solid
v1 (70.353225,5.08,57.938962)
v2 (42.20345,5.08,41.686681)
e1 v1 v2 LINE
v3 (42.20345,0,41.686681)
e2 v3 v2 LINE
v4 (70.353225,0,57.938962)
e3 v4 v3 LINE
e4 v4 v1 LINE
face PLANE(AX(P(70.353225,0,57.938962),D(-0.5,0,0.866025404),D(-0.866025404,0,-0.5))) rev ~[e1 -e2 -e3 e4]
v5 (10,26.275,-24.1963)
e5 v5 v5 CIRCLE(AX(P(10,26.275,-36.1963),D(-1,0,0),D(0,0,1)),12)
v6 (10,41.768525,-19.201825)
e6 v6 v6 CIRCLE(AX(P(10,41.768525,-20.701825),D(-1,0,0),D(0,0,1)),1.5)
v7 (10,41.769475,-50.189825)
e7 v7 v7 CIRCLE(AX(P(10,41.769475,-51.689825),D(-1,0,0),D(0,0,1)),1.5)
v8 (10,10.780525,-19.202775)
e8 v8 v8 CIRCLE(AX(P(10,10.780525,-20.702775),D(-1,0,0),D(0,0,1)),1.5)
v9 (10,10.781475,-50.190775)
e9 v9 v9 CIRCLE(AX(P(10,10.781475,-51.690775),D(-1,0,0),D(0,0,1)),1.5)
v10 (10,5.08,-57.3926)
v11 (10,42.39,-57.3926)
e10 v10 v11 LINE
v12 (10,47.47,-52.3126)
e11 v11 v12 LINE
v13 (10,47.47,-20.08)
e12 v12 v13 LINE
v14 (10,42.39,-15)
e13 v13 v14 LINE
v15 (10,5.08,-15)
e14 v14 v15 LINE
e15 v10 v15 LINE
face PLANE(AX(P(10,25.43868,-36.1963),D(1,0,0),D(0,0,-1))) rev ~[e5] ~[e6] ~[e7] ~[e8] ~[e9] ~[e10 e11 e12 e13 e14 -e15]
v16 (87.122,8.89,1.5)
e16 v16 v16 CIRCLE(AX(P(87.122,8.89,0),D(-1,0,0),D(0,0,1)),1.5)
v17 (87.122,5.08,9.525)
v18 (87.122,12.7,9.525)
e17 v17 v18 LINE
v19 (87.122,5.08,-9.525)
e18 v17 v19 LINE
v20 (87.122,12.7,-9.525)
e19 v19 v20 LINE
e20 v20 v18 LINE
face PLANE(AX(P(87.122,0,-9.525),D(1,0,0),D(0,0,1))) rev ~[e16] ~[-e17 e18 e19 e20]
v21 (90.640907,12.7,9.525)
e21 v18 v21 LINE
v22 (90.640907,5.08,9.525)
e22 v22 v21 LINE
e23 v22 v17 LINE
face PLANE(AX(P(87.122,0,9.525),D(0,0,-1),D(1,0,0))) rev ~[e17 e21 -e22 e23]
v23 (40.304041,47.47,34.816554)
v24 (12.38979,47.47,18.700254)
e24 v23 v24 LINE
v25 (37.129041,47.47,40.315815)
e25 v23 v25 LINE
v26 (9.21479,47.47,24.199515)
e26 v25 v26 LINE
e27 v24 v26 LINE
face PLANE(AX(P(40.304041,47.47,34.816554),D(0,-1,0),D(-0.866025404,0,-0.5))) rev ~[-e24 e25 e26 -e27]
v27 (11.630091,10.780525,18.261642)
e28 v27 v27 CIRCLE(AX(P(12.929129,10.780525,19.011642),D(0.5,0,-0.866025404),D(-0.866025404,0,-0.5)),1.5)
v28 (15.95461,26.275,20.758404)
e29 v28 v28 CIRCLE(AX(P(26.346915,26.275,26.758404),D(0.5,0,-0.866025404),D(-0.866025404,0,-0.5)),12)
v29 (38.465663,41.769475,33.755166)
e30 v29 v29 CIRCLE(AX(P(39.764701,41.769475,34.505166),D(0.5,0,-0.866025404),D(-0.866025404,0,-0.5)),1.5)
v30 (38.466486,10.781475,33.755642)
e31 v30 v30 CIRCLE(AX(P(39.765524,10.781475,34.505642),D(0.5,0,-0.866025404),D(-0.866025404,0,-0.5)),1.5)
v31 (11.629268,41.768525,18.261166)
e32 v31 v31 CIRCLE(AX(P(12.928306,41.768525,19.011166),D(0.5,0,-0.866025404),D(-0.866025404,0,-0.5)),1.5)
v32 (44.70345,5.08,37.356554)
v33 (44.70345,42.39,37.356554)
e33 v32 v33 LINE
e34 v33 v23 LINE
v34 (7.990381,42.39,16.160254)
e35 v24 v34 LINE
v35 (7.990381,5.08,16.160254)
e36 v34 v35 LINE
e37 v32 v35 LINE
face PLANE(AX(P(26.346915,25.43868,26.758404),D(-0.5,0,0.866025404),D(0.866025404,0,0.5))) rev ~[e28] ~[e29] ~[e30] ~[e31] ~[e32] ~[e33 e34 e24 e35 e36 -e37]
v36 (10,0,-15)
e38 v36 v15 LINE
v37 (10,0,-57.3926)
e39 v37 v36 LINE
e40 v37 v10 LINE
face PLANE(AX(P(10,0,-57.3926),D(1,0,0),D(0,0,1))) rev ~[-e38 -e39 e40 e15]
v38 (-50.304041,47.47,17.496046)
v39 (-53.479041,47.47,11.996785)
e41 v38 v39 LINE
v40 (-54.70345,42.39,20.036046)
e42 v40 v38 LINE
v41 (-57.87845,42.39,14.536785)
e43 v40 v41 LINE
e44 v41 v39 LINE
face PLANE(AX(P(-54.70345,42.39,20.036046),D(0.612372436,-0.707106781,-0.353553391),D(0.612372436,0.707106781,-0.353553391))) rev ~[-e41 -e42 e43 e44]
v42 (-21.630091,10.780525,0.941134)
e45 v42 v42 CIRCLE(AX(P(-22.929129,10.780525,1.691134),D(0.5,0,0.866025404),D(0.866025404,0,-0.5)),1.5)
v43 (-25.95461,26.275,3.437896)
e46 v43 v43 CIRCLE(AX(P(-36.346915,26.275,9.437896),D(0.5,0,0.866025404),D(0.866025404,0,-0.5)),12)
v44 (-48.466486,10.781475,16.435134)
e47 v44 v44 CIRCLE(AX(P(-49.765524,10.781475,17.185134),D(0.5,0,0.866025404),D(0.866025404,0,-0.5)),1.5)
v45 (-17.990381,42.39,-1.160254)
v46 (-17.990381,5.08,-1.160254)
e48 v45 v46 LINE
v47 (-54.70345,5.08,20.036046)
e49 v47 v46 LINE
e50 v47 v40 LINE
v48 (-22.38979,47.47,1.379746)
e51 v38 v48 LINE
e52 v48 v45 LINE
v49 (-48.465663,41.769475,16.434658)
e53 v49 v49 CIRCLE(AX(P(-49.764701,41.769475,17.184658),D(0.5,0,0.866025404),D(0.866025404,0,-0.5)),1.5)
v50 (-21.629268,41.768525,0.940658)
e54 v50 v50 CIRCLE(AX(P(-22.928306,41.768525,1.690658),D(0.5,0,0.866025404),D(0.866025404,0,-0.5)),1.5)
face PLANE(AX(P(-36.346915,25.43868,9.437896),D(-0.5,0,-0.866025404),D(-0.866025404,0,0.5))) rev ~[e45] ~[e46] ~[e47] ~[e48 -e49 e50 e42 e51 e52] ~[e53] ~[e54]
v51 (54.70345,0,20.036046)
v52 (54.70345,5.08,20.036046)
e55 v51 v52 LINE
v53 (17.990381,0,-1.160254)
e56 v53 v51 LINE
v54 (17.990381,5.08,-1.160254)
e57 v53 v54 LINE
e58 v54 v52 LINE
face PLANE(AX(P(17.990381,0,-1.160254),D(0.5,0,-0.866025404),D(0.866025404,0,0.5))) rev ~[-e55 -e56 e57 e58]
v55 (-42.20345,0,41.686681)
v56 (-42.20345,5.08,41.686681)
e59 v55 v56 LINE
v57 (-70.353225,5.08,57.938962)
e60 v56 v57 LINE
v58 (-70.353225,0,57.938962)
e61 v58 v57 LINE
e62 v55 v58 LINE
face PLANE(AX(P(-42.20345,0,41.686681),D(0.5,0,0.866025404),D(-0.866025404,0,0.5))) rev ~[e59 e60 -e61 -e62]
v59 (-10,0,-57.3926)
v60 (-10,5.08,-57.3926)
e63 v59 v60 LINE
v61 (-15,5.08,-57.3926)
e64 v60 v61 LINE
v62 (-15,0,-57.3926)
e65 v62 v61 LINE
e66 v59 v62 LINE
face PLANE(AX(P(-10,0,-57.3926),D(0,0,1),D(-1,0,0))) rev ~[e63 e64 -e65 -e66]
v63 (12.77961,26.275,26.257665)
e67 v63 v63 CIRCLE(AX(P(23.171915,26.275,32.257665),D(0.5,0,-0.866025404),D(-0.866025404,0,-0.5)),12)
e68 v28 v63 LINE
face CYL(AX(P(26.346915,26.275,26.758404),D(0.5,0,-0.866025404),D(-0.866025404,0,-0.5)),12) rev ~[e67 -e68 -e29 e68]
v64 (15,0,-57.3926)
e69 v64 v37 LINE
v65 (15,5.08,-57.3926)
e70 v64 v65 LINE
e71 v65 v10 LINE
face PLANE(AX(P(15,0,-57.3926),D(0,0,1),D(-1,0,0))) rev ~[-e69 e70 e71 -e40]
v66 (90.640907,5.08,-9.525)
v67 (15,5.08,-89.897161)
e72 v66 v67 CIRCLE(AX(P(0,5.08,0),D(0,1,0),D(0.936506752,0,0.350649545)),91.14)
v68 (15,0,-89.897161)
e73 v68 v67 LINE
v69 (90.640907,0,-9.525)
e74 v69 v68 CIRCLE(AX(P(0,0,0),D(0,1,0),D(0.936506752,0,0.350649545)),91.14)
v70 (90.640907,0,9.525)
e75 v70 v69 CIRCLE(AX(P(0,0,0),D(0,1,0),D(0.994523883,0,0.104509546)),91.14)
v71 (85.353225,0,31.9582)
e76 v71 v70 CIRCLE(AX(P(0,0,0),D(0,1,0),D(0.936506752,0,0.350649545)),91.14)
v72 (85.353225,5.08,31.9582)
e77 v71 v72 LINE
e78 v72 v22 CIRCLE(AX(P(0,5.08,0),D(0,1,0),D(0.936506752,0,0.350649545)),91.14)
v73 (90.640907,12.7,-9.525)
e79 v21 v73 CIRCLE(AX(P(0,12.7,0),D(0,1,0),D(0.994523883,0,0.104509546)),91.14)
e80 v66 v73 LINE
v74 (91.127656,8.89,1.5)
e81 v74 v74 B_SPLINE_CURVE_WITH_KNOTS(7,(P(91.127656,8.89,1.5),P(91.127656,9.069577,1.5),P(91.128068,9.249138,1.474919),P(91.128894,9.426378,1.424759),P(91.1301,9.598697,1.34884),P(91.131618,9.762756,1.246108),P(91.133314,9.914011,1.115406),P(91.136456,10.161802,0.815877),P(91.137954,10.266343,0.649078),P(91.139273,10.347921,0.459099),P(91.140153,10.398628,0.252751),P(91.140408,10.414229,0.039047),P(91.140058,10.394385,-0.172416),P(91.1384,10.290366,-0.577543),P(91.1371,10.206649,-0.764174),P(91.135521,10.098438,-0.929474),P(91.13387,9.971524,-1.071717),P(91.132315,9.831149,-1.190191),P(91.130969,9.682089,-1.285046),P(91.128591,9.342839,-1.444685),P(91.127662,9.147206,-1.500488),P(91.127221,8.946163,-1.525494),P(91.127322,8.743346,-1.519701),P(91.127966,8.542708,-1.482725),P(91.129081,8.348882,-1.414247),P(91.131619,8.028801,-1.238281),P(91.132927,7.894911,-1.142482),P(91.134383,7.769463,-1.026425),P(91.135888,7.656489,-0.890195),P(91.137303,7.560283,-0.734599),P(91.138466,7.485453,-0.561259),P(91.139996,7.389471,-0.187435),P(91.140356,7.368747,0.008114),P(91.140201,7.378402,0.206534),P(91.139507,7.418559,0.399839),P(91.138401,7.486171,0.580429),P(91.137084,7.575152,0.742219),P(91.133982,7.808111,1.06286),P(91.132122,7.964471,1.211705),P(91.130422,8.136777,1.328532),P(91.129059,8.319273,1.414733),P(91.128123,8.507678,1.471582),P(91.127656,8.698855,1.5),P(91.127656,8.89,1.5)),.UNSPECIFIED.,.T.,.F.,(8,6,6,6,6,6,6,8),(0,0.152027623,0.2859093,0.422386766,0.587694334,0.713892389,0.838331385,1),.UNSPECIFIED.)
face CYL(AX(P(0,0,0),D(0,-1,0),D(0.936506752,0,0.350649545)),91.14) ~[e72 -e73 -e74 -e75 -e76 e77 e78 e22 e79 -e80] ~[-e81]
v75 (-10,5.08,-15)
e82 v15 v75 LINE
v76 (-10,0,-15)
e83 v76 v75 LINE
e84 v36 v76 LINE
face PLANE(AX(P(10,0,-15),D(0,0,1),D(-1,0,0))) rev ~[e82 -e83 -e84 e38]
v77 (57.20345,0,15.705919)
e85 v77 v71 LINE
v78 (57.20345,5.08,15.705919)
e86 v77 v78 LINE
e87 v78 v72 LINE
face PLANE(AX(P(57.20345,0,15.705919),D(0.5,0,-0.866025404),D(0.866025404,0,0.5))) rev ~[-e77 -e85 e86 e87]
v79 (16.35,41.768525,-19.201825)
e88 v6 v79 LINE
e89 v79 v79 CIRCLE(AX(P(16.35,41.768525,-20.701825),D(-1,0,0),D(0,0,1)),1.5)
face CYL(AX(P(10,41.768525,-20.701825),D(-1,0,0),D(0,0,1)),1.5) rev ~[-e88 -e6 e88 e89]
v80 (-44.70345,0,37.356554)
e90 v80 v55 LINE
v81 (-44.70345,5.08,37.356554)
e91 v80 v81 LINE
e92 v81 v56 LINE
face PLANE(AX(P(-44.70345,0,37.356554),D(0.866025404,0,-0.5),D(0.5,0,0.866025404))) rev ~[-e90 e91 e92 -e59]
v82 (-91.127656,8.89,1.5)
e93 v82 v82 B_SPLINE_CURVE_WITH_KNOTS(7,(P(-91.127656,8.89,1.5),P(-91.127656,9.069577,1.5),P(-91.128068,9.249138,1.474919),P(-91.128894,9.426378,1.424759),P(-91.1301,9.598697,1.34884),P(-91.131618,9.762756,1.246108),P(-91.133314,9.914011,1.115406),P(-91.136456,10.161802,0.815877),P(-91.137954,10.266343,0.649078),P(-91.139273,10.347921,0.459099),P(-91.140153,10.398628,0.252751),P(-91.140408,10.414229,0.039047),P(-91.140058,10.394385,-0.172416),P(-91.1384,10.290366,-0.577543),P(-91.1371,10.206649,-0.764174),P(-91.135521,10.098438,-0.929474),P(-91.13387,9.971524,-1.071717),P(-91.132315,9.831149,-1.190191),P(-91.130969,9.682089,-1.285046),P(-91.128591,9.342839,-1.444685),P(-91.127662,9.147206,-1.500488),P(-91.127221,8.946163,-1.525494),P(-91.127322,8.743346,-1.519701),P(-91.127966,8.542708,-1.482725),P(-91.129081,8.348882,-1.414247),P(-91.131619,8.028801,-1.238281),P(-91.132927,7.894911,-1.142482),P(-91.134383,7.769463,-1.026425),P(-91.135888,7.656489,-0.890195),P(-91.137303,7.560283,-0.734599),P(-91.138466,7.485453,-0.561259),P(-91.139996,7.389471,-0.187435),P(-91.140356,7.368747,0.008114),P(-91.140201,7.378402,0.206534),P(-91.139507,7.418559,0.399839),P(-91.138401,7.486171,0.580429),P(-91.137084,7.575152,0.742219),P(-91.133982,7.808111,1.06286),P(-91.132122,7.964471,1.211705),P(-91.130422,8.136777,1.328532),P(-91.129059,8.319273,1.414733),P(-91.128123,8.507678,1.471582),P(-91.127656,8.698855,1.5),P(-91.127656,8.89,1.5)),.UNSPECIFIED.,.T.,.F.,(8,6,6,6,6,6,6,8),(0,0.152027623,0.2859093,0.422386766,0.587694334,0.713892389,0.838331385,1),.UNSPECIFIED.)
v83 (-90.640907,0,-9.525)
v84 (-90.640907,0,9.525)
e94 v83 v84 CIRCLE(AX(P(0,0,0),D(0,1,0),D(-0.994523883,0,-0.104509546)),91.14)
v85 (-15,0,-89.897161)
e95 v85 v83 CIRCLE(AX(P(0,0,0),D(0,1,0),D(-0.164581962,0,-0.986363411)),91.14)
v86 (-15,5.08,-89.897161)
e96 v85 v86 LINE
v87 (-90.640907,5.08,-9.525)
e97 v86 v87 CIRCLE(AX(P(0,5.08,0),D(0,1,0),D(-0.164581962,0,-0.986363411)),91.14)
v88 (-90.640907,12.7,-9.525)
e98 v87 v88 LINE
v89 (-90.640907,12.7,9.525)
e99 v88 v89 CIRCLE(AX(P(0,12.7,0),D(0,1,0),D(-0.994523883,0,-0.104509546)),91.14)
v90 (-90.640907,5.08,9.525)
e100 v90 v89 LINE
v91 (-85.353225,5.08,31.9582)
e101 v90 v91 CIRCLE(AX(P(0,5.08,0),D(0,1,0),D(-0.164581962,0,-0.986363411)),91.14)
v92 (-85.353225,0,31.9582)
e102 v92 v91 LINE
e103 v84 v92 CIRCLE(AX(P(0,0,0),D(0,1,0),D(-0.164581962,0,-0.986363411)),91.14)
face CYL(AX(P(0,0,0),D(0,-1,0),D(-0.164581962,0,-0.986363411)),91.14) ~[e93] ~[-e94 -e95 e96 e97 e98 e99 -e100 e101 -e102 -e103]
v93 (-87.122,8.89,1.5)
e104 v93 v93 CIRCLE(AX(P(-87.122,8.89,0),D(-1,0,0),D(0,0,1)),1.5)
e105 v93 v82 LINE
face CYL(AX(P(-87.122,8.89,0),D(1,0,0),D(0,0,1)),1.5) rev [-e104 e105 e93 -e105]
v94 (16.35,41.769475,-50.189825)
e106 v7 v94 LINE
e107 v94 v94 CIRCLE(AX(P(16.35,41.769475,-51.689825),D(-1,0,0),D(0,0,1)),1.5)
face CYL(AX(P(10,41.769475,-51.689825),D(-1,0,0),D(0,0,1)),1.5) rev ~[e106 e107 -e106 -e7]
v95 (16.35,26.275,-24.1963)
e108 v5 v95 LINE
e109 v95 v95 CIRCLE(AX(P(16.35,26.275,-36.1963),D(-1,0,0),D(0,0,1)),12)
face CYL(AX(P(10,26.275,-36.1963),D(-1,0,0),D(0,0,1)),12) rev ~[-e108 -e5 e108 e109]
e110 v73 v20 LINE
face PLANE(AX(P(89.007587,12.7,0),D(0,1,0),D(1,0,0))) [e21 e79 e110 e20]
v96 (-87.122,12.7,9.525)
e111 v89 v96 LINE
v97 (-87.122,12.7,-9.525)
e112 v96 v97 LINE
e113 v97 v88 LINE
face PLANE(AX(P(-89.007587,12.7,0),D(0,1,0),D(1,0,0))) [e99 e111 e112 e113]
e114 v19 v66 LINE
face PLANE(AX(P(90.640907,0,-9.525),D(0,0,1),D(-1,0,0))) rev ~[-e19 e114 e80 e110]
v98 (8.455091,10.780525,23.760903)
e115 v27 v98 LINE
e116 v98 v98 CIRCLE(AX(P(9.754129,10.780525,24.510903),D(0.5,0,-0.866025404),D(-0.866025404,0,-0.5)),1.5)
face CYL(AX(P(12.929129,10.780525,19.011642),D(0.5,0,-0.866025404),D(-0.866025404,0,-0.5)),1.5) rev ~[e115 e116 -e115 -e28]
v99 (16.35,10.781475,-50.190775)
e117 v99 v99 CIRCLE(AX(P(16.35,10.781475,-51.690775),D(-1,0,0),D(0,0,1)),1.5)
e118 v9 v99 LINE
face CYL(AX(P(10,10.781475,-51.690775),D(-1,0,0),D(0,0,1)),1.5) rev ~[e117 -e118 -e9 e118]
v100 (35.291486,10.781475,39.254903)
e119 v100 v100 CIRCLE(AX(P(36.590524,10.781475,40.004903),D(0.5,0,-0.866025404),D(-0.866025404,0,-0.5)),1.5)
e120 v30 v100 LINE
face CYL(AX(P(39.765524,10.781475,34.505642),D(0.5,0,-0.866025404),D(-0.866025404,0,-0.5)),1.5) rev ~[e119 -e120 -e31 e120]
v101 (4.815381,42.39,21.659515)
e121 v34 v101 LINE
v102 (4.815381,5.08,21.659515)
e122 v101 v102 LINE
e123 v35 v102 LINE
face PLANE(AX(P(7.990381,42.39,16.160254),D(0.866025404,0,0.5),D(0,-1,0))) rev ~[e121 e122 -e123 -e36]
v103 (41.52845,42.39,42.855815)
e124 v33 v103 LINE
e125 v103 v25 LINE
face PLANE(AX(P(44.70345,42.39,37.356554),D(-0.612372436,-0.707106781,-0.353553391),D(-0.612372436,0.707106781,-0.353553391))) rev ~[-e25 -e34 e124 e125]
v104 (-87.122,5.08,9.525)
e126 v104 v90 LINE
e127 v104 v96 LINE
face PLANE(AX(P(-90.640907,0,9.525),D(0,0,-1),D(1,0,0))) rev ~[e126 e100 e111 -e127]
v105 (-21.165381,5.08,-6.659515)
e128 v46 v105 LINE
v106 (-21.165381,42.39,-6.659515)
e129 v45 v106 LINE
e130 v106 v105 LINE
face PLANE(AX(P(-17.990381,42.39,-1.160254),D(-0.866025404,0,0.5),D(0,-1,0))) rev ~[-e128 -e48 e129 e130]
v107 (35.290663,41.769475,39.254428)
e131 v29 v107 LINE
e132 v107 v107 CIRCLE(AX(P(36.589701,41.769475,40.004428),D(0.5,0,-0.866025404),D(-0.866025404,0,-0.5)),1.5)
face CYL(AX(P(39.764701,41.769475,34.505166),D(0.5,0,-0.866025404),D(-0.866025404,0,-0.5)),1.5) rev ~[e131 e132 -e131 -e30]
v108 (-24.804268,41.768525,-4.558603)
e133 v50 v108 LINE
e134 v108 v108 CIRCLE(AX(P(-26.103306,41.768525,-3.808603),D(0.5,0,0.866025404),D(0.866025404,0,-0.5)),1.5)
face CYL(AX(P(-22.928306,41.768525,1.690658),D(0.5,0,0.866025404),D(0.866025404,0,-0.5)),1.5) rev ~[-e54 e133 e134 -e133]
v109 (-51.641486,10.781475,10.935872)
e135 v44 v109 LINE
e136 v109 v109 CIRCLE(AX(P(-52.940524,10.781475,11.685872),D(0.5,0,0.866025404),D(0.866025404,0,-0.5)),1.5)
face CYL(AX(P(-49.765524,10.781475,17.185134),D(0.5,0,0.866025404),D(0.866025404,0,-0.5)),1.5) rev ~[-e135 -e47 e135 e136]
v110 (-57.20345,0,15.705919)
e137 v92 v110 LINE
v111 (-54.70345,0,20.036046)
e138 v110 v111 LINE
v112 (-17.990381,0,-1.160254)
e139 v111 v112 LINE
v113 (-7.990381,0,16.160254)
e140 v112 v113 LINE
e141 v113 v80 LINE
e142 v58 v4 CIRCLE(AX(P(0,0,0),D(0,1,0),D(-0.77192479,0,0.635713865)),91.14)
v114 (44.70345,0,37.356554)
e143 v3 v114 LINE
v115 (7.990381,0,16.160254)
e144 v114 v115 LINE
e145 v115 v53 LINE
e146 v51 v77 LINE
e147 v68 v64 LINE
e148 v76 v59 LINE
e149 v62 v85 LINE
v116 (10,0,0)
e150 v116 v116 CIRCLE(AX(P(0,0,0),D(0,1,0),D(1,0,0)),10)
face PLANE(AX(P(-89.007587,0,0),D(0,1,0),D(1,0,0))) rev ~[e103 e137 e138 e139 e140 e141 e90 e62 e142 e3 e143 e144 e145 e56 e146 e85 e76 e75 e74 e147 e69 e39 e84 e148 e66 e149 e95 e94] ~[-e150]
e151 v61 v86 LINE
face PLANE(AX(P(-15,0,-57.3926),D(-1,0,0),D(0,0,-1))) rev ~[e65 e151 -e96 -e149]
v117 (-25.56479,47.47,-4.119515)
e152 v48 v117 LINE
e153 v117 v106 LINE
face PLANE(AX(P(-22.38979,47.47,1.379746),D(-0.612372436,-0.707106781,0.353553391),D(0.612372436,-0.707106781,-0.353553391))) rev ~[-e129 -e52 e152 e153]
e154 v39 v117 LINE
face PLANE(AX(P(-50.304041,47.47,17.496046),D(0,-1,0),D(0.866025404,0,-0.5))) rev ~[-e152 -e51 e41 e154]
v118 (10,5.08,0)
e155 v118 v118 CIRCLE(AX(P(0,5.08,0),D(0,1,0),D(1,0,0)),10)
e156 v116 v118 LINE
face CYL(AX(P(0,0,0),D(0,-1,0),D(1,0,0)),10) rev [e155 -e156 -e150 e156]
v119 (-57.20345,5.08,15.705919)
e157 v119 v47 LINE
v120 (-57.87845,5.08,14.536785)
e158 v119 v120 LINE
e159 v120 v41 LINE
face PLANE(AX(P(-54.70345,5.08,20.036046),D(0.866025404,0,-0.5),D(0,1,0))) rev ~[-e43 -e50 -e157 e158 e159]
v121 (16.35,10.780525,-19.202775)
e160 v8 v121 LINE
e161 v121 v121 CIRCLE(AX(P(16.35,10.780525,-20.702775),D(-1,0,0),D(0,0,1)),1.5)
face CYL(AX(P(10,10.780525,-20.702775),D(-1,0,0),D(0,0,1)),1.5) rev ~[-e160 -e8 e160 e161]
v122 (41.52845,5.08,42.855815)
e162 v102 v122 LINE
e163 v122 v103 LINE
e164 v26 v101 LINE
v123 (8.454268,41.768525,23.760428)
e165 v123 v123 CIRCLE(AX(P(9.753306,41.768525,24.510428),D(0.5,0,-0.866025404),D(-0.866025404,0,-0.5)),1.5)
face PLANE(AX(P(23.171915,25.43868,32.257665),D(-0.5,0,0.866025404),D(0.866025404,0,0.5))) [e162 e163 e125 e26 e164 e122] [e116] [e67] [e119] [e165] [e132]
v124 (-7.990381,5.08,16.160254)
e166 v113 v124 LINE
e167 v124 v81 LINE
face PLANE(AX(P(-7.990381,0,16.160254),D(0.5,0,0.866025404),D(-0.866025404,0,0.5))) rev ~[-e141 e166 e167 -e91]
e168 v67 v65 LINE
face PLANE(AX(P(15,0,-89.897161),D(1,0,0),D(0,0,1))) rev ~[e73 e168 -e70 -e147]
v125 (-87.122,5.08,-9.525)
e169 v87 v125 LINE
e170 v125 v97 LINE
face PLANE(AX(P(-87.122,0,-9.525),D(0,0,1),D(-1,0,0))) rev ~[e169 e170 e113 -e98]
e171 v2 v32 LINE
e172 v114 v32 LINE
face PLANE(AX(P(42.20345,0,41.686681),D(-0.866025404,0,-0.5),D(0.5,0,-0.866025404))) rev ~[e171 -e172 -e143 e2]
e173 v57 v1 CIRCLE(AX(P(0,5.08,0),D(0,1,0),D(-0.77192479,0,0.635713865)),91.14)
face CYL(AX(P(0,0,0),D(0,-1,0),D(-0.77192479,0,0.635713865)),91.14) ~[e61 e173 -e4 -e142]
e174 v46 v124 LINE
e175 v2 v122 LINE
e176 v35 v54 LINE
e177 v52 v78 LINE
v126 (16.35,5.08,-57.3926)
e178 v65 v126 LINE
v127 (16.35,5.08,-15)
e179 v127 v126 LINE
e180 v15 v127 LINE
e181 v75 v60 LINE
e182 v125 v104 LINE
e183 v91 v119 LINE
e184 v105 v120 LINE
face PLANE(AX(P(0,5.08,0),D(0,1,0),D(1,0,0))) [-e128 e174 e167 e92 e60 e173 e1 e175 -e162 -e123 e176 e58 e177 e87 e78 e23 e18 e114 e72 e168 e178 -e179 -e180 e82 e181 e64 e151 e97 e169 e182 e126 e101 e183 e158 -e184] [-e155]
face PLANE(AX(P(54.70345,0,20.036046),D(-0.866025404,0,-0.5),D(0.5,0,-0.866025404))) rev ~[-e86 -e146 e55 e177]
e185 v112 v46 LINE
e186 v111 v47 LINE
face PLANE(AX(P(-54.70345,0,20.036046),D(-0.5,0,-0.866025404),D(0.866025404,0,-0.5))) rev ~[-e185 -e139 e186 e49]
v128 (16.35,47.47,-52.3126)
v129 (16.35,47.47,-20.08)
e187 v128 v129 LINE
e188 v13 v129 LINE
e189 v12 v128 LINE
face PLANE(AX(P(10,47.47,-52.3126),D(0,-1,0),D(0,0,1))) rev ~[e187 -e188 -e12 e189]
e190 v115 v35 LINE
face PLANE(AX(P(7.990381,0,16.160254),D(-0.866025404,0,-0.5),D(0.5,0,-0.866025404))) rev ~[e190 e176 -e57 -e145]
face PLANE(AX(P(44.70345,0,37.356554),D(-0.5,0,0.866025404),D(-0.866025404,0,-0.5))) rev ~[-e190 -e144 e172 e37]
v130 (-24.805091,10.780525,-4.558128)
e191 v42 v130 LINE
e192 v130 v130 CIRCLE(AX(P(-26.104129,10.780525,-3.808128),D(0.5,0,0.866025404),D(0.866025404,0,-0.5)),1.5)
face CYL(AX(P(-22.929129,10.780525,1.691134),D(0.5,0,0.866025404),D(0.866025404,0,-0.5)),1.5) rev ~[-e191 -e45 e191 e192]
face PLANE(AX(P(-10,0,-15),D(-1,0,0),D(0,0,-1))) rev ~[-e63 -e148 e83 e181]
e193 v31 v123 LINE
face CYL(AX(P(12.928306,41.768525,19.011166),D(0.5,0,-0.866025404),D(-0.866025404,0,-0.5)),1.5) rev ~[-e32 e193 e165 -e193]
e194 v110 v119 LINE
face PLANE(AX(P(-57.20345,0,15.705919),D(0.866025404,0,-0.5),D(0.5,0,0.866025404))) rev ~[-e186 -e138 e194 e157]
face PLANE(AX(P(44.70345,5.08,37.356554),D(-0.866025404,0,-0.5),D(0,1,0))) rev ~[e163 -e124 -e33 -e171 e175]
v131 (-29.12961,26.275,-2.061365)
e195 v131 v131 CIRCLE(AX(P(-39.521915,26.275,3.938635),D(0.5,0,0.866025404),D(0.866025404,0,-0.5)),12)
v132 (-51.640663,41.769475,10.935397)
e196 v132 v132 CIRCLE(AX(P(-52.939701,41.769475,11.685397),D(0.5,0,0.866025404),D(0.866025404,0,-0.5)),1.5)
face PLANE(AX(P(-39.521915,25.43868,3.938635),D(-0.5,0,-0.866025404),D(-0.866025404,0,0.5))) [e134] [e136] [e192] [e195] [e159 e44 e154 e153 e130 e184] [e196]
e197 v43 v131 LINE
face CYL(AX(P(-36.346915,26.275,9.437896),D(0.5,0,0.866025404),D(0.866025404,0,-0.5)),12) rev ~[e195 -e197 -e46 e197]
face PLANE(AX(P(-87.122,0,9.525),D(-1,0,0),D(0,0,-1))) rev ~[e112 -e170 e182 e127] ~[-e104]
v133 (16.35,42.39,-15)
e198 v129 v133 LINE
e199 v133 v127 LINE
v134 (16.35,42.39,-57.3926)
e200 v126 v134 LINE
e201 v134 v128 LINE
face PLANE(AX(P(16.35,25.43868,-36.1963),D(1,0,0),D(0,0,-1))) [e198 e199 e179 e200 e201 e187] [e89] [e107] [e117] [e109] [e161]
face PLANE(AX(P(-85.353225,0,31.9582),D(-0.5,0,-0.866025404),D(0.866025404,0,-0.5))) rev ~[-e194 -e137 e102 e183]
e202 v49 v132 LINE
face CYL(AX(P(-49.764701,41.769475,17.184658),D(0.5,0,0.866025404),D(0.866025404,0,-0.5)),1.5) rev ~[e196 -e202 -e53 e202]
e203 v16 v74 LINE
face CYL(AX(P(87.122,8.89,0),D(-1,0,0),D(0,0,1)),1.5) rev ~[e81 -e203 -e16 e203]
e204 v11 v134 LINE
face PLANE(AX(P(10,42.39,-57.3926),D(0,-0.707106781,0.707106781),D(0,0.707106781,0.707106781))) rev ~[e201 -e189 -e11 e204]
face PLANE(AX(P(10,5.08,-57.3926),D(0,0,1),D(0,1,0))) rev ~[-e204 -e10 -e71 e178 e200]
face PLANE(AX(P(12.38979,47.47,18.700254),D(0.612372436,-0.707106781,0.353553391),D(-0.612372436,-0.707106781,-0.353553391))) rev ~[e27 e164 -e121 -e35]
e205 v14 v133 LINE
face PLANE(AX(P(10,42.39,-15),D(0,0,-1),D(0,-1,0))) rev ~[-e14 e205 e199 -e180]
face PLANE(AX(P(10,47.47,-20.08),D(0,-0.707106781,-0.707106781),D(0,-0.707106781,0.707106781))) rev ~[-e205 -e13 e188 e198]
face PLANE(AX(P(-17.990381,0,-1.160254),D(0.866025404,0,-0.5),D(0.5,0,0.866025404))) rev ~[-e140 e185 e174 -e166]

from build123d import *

# Parameters (mm, degrees)
SKETCH1_R           = 10
BASE_DEPTH          = 5.08
SKETCH2_R           = 12
SKETCH2_R_2         = 1.5
MOTOREXTRUDE_DEPTH  = 6.35
CIRPATTERN3_COUNT   = 3
CIRPATTERN3_ANGLE   = 240
BOSS_EXTRUDE1_DEPTH = 12.7
SKETCH3_R           = 1.5
CUT_EXTRUDE1_DEPTH  = 5.018


with BuildPart() as part:
    # Sketch1 → Base (new body)
    with BuildSketch(Plane(origin=(0, 0, 0), x_dir=(1, 0, 0), z_dir=(0, 1, 0))):
        with BuildLine():
            Line((-10, 15), (-10, 57.3926))
            Line((-10, 57.3926), (-15, 57.3926))
            Line((-15, 57.3926), (-15, 89.897161246))
            ThreePointArc((-15, 89.897161246), (-78.929555301, 45.57), (-85.353225367, -31.958199566))
            Line((-85.353225367, -31.958199566), (-57.203449589, -15.705918943))
            Line((-57.203449589, -15.705918943), (-54.703449589, -20.036045962))
            Line((-54.703449589, -20.036045962), (-17.990381057, 1.160254038))
            Line((-17.990381057, 1.160254038), (-7.990381057, -16.160254038))
            Line((-7.990381057, -16.160254038), (-44.703449589, -37.356554038))
            Line((-44.703449589, -37.356554038), (-42.203449589, -41.686681057))
            Line((-42.203449589, -41.686681057), (-70.353225367, -57.93896168))
            ThreePointArc((-70.353225367, -57.93896168), (0, -91.14), (70.353225367, -57.93896168))
            Line((70.353225367, -57.93896168), (42.203449589, -41.686681057))
            Line((42.203449589, -41.686681057), (44.703449589, -37.356554038))
            Line((44.703449589, -37.356554038), (7.990381057, -16.160254038))
            Line((7.990381057, -16.160254038), (17.990381057, 1.160254038))
            Line((17.990381057, 1.160254038), (54.703449589, -20.036045962))
            Line((54.703449589, -20.036045962), (57.203449589, -15.705918943))
            Line((57.203449589, -15.705918943), (85.353225367, -31.958199566))
            ThreePointArc((85.353225367, -31.958199566), (78.929555301, 45.57), (15, 89.897161246))
            Line((15, 89.897161246), (15, 57.3926))
            Line((15, 57.3926), (10, 57.3926))
            Line((10, 57.3926), (10, 15))
            Line((10, 15), (-10, 15))
        make_face()
        Circle(SKETCH1_R, mode=Mode.SUBTRACT)
    extrude(amount=BASE_DEPTH)

    # Sketch2 → MotorExtrude (add)
    with BuildSketch(Plane(origin=(-5, 0, 8.660254038), x_dir=(-0.866025404, 0, -0.5), z_dir=(0.5, 0, -0.866025404))):
        Polygon((-15, 5.08), (-57.3926, 5.08), (-57.3926, 42.39), (-52.3126, 47.47), (-20.08, 47.47), (-15, 42.39), align=None)
        with Locations((-36.1963, 26.275)):
            Circle(SKETCH2_R, mode=Mode.SUBTRACT)
        with Locations((-20.701824858, 41.768524843)):
            Circle(SKETCH2_R_2, mode=Mode.SUBTRACT)
        with Locations((-20.702775157, 10.780524858)):
            Circle(SKETCH2_R_2, mode=Mode.SUBTRACT)
        with Locations((-51.690775142, 10.781475157)):
            Circle(SKETCH2_R_2, mode=Mode.SUBTRACT)
        with Locations((-51.689824843, 41.769475142)):
            Circle(SKETCH2_R_2, mode=Mode.SUBTRACT)
    motorextrude = extrude(amount=-MOTOREXTRUDE_DEPTH)

    # CirPattern3: MotorExtrude ×3 about axis
    cirpattern3_axis = Axis((0, 0, 0), (0, 1, 0))
    for i in range(1, CIRPATTERN3_COUNT):
        add(motorextrude.rotate(cirpattern3_axis, i * CIRPATTERN3_ANGLE / (CIRPATTERN3_COUNT - 1)))

    # Sketch1<7> → Boss-Extrude1 (add)
    with BuildSketch(Plane(origin=(0, 0, 0), x_dir=(1, 0, 0), z_dir=(0, 1, 0))):
        with BuildLine():
            Line((-87.122, 9.525), (-90.640906742, 9.525))
            ThreePointArc((-90.640906742, 9.525), (-91.14, 0), (-90.640906742, -9.525))
            Line((-90.640906742, -9.525), (-87.122, -9.525))
            Line((-87.122, -9.525), (-87.122, 9.525))
        make_face()
        with BuildLine():
            Line((87.122, 9.525), (87.122, -9.525))
            Line((87.122, -9.525), (90.640906742, -9.525))
            ThreePointArc((90.640906742, -9.525), (91.14, 0), (90.640906742, 9.525))
            Line((90.640906742, 9.525), (87.122, 9.525))
        make_face()
    extrude(amount=BOSS_EXTRUDE1_DEPTH)

    # Sketch3 → Cut-Extrude1 (cut, through all)
    with BuildSketch(Plane.ZY.offset(-87.122)):
        with Locations((0, 8.89)):
            Circle(SKETCH3_R)
    cut_extrude1 = extrude(amount=-CUT_EXTRUDE1_DEPTH, mode=Mode.SUBTRACT)

    # Mirror1: Cut-Extrude1 across plane
    add(cut_extrude1.mirror(Plane(origin=(0, 0, 0), x_dir=(0, 0, 1), z_dir=(1, 0, 0))), mode=Mode.SUBTRACT)


solid = part.part
